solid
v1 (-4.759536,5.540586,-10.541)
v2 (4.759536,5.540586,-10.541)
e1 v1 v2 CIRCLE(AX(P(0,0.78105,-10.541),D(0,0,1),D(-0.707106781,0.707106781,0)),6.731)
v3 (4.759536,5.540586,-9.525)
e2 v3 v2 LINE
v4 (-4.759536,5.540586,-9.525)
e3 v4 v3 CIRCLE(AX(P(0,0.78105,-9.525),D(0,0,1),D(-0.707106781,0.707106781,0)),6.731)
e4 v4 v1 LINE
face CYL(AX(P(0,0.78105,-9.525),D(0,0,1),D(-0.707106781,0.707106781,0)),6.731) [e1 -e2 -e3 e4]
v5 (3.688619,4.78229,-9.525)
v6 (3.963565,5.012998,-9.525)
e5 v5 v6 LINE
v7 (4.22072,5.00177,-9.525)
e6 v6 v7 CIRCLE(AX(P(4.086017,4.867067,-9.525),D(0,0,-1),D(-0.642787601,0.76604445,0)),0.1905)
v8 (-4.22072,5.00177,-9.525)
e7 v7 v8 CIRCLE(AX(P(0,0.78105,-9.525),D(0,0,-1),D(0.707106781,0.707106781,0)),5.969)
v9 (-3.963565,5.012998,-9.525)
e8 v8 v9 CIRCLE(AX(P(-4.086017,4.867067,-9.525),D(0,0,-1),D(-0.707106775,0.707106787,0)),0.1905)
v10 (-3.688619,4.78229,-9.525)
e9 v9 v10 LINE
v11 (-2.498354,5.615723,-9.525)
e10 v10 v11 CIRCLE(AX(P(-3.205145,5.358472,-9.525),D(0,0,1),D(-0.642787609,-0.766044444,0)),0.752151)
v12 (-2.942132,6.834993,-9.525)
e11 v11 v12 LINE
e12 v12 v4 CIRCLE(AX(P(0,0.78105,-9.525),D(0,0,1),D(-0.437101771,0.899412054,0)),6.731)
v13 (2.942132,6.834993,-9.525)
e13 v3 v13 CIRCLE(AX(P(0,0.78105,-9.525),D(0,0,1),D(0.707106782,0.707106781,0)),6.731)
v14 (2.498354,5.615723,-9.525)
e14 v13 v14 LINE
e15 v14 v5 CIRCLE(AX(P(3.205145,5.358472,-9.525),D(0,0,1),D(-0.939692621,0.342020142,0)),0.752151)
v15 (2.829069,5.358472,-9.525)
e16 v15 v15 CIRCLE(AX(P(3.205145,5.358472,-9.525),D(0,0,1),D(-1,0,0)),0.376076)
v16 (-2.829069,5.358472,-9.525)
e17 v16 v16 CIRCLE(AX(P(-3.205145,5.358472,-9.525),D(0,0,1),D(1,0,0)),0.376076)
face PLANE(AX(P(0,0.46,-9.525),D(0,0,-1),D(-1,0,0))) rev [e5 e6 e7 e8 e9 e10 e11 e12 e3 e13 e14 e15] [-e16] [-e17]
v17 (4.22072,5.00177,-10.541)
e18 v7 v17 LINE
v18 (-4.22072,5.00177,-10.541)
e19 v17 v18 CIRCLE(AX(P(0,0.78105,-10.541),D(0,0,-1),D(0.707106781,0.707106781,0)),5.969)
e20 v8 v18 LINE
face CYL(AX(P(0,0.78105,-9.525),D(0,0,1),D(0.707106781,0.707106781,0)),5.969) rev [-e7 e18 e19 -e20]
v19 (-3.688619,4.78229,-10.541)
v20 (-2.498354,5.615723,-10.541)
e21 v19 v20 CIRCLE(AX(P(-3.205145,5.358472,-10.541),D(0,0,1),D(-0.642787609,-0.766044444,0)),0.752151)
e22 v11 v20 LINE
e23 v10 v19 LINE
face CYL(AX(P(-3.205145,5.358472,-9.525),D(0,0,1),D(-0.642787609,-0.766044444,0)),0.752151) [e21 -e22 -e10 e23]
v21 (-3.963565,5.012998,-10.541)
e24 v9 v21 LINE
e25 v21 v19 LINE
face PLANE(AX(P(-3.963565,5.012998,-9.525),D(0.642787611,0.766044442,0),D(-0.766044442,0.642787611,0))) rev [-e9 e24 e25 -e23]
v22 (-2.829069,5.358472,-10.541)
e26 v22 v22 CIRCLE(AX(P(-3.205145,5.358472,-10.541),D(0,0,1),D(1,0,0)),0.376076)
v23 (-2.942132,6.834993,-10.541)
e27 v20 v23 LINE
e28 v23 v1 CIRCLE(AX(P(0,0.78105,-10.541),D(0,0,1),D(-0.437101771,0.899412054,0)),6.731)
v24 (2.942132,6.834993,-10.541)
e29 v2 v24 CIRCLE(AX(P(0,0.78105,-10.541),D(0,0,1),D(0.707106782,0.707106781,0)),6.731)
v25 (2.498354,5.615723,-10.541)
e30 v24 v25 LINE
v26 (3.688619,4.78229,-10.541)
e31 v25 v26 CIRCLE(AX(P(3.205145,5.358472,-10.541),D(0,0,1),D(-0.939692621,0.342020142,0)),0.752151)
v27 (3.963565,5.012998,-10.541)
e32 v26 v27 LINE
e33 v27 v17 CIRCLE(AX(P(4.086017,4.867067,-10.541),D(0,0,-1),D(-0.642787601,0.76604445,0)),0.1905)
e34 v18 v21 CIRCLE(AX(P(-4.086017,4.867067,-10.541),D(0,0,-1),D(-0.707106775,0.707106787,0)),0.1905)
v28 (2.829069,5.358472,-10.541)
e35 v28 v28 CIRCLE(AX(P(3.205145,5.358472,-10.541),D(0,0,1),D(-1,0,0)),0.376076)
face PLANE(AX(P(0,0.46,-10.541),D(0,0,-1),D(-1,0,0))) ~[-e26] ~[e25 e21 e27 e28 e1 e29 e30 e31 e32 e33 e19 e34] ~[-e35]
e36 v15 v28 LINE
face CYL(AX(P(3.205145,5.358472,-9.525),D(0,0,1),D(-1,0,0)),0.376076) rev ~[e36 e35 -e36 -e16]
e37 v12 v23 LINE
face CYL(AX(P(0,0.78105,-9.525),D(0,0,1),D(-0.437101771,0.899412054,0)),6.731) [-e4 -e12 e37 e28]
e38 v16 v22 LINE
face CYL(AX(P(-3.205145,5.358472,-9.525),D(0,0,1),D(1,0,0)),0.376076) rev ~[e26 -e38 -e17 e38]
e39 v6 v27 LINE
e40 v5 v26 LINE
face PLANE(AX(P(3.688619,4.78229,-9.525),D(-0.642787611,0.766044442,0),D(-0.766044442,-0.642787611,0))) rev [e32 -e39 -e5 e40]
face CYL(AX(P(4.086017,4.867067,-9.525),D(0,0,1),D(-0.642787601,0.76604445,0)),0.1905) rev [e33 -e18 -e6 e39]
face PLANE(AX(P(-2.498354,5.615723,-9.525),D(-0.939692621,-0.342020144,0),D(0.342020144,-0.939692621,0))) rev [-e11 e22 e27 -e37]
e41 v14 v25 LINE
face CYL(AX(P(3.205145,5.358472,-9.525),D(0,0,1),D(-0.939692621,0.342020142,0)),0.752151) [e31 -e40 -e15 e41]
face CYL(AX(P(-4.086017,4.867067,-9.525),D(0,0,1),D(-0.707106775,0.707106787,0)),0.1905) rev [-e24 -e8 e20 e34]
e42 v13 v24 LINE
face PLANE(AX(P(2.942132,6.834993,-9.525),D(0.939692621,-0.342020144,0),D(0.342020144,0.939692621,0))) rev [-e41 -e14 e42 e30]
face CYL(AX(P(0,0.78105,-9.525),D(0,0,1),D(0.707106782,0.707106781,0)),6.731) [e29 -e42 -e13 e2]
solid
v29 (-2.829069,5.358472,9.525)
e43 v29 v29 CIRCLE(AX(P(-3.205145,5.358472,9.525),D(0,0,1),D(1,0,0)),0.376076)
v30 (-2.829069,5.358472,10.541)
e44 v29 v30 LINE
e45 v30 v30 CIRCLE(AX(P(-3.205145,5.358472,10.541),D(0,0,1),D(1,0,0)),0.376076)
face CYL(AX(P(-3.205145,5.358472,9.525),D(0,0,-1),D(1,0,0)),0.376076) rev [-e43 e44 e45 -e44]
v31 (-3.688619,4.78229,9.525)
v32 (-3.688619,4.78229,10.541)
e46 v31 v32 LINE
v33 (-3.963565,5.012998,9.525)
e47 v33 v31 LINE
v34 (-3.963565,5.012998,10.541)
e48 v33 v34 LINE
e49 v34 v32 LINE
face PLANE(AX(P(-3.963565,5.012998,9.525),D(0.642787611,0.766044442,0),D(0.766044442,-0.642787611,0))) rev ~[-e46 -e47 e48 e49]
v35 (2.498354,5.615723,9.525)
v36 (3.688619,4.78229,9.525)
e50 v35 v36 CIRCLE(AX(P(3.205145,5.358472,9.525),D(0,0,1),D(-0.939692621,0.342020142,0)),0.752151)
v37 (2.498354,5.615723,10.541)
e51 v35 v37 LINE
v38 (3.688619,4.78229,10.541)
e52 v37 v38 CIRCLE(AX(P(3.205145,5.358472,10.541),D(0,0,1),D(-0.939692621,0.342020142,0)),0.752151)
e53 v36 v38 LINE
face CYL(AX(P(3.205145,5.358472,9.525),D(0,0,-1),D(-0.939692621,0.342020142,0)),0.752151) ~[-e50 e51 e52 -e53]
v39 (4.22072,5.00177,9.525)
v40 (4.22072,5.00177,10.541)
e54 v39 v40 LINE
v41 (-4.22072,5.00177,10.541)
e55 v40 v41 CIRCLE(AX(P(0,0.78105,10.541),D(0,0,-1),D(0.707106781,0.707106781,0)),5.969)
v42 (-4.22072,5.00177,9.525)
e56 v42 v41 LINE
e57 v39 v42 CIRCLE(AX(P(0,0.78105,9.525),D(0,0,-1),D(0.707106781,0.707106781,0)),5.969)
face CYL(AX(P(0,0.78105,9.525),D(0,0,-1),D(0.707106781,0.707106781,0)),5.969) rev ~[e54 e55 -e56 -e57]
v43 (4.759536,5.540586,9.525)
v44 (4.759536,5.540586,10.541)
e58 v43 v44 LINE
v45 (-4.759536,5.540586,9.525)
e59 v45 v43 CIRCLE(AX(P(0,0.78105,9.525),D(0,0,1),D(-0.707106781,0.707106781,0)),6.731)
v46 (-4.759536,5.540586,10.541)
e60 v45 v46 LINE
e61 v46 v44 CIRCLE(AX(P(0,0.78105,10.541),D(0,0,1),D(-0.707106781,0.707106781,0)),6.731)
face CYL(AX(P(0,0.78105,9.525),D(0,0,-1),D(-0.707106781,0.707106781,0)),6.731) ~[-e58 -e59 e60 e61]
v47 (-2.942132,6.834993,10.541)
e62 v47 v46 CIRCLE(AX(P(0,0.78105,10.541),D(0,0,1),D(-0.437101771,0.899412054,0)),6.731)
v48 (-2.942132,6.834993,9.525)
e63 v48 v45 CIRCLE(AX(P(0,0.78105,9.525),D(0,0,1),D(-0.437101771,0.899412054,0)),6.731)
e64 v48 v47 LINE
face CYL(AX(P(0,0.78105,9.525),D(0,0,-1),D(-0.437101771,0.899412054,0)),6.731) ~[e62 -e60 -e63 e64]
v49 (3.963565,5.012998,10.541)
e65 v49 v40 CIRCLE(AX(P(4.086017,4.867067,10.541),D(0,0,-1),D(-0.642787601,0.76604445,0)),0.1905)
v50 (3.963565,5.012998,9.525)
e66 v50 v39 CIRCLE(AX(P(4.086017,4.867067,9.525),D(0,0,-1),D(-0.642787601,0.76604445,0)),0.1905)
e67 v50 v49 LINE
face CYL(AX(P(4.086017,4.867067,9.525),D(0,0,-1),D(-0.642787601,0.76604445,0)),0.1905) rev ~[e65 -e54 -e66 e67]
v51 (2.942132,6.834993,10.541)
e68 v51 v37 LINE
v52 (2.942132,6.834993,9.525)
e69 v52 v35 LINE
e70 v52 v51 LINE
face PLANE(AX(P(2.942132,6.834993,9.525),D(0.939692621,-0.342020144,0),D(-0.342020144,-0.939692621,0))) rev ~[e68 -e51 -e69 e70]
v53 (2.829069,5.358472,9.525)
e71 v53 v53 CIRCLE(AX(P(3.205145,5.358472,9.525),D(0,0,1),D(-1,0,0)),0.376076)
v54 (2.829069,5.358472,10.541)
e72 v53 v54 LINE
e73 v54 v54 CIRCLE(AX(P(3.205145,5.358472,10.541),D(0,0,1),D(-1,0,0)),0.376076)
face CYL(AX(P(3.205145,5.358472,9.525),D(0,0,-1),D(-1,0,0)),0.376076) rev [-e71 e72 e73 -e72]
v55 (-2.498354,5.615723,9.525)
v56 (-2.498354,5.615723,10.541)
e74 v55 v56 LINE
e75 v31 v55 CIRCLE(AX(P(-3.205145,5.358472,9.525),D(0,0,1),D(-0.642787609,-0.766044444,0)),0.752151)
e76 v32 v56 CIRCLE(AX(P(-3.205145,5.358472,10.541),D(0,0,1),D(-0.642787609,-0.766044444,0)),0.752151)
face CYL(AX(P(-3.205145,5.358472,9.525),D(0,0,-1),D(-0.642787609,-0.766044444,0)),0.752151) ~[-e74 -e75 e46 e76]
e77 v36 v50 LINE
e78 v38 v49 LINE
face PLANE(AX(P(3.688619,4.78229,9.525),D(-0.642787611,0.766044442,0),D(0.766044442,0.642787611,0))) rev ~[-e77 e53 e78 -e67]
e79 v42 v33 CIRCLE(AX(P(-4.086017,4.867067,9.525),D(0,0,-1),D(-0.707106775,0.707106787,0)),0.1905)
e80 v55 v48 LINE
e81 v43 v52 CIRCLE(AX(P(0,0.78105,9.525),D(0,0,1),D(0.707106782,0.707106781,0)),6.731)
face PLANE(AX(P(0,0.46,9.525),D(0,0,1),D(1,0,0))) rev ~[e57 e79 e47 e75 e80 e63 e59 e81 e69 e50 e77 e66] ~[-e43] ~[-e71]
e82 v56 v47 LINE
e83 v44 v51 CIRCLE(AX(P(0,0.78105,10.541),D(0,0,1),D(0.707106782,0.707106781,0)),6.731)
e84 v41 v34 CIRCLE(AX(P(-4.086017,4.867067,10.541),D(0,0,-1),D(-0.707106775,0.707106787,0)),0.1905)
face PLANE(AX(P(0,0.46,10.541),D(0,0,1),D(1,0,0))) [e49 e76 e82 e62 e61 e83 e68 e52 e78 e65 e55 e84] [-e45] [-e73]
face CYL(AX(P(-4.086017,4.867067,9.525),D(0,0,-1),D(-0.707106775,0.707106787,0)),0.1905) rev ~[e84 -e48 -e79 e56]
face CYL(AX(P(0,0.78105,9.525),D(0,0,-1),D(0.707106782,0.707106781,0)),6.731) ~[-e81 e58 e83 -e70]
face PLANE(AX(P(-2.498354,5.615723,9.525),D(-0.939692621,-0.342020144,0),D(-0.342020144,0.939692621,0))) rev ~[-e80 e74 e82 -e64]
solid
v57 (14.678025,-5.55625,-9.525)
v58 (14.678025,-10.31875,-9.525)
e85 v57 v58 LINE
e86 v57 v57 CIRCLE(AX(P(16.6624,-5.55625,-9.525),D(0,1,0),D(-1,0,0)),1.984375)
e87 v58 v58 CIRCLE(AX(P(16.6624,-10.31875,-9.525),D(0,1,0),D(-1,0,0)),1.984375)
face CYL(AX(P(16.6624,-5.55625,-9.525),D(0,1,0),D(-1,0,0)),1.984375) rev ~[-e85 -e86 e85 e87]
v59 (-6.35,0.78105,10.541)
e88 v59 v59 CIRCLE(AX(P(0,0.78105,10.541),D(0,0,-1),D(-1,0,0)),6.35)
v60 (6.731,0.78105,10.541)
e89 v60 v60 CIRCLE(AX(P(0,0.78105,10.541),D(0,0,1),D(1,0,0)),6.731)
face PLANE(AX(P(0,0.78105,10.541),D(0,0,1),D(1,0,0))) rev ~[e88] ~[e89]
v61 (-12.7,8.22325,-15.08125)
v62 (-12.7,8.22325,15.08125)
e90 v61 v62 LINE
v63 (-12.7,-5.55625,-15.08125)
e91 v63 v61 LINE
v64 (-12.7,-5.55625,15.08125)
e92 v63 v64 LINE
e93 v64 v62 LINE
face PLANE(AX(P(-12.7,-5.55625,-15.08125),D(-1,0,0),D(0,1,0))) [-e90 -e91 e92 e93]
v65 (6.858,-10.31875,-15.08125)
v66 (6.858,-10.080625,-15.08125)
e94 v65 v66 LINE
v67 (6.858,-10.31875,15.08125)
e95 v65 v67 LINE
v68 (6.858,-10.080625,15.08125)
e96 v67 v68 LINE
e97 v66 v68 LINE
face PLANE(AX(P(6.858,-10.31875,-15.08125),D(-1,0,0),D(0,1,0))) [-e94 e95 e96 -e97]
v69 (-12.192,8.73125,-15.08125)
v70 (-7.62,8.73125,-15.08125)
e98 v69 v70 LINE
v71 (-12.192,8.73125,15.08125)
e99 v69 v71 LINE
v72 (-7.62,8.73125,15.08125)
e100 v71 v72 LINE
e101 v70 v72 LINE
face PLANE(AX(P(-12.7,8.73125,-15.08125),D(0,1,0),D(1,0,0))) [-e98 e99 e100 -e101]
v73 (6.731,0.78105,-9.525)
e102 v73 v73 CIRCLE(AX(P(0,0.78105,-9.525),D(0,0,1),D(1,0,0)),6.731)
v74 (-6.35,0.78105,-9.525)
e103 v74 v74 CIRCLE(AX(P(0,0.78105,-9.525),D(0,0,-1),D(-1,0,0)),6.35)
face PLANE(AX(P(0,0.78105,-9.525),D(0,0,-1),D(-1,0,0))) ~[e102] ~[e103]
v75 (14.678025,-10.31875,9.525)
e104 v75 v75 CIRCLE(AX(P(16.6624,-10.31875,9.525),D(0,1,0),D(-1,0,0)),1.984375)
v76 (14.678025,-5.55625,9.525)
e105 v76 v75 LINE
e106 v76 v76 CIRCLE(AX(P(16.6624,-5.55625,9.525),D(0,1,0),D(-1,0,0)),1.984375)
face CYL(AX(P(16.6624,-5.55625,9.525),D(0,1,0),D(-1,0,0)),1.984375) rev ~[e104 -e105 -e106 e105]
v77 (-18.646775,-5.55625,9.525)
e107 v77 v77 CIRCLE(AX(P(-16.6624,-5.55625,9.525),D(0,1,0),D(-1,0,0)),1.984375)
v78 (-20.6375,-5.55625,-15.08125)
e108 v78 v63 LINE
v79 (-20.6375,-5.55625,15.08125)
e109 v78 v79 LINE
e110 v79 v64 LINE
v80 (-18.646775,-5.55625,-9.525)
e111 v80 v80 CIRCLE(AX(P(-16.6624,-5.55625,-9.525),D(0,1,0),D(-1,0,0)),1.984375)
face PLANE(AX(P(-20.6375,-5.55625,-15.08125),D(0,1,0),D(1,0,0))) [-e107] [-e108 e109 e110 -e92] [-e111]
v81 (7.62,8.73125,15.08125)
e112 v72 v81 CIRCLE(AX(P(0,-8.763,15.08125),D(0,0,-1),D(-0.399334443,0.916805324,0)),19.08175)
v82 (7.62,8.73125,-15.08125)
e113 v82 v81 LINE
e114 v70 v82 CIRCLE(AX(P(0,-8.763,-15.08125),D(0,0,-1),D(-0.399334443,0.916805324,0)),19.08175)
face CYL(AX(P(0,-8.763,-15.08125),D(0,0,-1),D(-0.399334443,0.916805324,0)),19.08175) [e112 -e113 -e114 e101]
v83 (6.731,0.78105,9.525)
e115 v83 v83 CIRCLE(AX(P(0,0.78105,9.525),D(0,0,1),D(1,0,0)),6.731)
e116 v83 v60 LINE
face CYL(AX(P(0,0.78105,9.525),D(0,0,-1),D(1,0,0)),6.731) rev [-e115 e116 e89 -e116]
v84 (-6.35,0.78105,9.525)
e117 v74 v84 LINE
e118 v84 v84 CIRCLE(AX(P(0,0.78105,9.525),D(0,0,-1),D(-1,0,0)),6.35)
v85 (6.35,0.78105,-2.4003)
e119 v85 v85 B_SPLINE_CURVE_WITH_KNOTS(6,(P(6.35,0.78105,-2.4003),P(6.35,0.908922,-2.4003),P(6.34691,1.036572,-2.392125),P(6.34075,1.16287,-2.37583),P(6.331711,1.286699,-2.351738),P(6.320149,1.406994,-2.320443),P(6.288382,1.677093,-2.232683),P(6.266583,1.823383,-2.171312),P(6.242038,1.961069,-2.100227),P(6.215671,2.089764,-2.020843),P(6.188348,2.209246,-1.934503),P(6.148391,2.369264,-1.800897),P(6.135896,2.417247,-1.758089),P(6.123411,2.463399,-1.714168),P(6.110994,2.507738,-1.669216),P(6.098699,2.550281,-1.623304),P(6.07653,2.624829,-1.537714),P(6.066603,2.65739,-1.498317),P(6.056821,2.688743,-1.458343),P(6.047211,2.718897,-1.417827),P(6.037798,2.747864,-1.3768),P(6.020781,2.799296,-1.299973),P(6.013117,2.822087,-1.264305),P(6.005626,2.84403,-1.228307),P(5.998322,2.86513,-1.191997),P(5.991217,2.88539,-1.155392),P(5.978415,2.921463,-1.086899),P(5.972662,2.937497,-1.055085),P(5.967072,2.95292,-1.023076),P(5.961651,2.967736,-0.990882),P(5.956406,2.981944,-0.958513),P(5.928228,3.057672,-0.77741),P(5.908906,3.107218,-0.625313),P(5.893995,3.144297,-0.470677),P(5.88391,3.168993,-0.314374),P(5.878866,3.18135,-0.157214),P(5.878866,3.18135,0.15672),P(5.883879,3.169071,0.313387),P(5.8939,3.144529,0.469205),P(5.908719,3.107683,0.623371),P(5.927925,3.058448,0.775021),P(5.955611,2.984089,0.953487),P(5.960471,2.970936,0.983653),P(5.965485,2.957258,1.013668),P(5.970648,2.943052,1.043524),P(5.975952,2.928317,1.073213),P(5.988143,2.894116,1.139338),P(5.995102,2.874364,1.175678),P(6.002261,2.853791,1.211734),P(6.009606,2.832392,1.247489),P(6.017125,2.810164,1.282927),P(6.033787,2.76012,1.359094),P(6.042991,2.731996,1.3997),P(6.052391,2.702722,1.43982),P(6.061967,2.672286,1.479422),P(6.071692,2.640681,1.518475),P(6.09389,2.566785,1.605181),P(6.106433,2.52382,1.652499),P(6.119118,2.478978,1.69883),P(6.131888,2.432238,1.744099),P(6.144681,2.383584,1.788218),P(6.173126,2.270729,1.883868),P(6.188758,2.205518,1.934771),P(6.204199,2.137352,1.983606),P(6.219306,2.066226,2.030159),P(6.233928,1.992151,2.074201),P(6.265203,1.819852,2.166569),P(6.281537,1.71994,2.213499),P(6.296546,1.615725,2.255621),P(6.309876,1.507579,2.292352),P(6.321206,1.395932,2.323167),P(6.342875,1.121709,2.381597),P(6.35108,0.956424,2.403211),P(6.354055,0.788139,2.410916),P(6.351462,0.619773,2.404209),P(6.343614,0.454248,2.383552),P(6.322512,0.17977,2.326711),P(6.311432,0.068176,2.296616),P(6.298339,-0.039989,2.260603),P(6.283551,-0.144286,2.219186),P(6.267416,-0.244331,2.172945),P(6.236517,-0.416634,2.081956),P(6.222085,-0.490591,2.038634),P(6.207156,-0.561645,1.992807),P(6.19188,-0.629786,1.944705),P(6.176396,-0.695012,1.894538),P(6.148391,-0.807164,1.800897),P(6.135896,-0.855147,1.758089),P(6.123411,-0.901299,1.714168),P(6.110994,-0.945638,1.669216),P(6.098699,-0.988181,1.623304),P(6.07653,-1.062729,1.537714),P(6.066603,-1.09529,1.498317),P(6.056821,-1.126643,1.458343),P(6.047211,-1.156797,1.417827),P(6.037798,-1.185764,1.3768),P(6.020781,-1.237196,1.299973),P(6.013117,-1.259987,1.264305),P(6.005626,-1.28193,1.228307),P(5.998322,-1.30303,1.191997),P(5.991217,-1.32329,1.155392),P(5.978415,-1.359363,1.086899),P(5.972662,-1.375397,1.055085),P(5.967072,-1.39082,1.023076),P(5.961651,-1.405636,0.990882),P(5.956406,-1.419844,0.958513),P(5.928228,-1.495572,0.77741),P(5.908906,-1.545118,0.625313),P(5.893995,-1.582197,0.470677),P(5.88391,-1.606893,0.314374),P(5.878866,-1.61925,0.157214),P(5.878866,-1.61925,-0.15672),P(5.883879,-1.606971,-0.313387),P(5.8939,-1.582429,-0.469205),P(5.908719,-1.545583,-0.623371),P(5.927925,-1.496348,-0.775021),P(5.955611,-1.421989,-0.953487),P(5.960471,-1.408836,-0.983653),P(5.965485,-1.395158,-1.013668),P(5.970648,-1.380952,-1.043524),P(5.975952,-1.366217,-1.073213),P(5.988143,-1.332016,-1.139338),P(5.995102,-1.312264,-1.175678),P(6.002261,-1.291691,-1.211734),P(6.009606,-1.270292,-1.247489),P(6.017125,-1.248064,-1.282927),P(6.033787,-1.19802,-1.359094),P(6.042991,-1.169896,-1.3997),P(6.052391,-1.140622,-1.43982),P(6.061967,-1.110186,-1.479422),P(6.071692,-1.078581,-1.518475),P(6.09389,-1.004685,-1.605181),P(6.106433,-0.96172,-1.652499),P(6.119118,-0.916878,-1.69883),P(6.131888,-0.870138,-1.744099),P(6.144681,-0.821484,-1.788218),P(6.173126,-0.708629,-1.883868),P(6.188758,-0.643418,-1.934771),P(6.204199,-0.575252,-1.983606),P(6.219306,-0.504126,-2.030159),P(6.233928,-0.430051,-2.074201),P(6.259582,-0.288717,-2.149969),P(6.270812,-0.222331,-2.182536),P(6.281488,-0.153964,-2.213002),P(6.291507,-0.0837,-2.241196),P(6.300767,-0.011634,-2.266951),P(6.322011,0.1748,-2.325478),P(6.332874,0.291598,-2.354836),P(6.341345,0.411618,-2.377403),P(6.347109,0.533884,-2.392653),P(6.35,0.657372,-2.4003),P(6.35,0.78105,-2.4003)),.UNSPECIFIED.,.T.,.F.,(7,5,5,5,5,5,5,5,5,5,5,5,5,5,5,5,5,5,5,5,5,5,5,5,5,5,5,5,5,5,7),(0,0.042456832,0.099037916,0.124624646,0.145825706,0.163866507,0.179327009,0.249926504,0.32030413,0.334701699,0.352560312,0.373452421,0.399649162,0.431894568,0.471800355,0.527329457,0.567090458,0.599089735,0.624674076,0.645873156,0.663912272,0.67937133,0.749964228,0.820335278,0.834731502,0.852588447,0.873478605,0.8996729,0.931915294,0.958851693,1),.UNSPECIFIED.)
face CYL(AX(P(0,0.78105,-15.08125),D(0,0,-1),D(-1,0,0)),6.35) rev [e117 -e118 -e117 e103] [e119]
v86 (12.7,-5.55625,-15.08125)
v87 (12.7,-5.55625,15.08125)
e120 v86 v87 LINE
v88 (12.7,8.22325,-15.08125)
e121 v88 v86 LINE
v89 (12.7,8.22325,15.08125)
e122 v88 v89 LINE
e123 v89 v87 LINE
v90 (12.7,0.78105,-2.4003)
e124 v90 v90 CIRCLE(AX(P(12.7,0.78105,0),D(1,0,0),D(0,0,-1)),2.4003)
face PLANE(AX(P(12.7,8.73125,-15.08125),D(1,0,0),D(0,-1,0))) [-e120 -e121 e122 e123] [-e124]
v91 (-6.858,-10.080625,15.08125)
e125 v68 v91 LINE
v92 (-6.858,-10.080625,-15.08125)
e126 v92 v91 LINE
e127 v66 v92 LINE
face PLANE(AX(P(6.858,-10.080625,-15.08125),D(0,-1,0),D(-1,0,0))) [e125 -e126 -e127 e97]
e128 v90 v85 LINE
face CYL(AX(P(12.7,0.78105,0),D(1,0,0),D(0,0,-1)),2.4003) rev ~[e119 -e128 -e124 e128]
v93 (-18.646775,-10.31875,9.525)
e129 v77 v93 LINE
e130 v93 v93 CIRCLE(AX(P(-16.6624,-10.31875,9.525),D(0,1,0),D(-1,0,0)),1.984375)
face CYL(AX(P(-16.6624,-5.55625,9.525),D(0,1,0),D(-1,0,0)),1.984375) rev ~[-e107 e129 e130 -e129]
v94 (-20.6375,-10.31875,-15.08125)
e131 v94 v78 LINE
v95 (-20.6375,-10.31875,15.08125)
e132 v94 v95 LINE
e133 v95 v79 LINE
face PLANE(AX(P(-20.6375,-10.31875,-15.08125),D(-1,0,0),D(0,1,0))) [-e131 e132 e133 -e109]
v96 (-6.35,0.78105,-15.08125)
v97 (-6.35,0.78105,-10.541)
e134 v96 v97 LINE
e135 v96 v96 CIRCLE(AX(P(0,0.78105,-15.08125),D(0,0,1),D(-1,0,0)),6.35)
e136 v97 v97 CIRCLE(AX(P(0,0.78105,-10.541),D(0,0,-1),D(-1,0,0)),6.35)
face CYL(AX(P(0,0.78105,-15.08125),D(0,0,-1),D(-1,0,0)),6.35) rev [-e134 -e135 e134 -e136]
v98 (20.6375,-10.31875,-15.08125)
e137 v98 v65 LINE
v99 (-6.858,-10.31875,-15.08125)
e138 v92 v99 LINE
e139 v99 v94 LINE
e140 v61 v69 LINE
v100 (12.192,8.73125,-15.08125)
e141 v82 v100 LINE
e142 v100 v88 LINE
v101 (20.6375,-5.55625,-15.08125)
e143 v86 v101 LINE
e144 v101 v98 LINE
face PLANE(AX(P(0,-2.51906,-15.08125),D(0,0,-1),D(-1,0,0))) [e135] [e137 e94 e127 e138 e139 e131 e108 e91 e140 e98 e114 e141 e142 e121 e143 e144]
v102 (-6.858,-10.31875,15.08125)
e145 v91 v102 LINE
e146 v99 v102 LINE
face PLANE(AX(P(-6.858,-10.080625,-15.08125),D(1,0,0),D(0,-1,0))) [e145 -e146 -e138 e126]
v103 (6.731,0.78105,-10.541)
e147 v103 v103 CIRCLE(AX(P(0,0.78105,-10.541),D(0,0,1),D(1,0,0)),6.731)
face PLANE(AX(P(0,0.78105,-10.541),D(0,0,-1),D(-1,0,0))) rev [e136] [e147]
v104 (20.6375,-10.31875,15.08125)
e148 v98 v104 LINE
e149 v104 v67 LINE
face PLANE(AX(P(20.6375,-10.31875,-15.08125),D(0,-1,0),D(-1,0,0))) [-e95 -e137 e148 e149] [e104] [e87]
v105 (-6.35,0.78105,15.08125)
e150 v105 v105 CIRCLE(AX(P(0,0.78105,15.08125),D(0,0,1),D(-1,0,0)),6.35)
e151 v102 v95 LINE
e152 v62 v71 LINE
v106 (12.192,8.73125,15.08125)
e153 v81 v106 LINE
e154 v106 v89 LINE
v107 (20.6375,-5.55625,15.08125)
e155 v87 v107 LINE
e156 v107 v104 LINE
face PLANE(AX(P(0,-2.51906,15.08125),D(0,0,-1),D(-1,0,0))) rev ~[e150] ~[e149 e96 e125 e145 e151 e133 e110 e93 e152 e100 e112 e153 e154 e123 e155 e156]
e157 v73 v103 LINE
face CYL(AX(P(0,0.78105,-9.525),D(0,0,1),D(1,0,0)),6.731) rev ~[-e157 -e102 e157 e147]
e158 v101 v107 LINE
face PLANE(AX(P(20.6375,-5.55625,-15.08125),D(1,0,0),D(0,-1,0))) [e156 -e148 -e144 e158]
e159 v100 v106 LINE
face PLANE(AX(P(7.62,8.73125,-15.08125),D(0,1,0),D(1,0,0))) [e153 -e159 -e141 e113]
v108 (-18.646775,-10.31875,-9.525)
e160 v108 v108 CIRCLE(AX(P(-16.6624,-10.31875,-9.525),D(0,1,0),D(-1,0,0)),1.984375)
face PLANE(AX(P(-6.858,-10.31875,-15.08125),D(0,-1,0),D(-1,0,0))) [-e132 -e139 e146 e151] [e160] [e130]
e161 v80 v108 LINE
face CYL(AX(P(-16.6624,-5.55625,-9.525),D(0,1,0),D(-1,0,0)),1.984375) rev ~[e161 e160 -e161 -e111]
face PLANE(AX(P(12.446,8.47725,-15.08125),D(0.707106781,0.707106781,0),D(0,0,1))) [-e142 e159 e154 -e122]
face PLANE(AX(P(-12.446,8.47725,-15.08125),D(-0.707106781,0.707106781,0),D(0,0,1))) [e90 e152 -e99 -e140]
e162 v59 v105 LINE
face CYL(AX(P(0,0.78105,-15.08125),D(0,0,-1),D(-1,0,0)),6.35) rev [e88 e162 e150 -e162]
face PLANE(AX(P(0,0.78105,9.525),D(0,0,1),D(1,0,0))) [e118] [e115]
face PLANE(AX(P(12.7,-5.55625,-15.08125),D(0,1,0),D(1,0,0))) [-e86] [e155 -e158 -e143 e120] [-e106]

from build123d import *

# Parameters (mm, degrees)
BOSS_EXTRUDE1_START     = -15.08125
SKETCH4_R               = 6.35
BOSS_EXTRUDE1_DEPTH     = 30.1625
SKETCH5_R               = 1.984375
CUT_EXTRUDE1_DEPTH      = 31.089302631
CHAMFER1_SIZE           = 0.508
SKETCH6_R               = 6.731
CUT_EXTRUDE2_DEPTH      = 1.016
CUT_EXTRUDE3_REACH      = 40.017
CUT_EXTRUDE3_END_RADIUS = 6.35
SKETCH7_R               = 2.4003
SKETCH8_R               = 0.376075682
BOSS_EXTRUDE2_DEPTH     = 1.016


with BuildPart() as part:
    # Sketch4 → Boss-Extrude1 (new body)
    with BuildSketch(Plane.XY.offset(BOSS_EXTRUDE1_START)):
        with BuildLine():
            Line((-20.6375, -5.55625), (-12.7, -5.55625))
            Line((-12.7, -5.55625), (-12.7, 8.73125))
            Line((-12.7, 8.73125), (-7.62, 8.73125))
            ThreePointArc((-7.62, 8.73125), (0, 10.31875), (7.62, 8.73125))
            Line((7.62, 8.73125), (12.7, 8.73125))
            Line((12.7, 8.73125), (12.7, -5.55625))
            Line((12.7, -5.55625), (20.6375, -5.55625))
            Line((20.6375, -5.55625), (20.6375, -10.31875))
            Line((20.6375, -10.31875), (6.858, -10.31875))
            Line((6.858, -10.31875), (6.858, -10.080625))
            Line((6.858, -10.080625), (-6.858, -10.080625))
            Line((-6.858, -10.080625), (-6.858, -10.31875))
            Line((-6.858, -10.31875), (-20.6375, -10.31875))
            Line((-20.6375, -10.31875), (-20.6375, -5.55625))
        make_face()
        with Locations(Location((0, 0.78105, 0), (0, 0, 180))):
            Circle(SKETCH4_R, mode=Mode.SUBTRACT)
    extrude(amount=BOSS_EXTRUDE1_DEPTH)

    # Sketch5 → Cut-Extrude1 (cut, through all)
    with BuildSketch(Plane(origin=(0, -5.55625, 0), x_dir=(1, 0, 0), z_dir=(0, 1, 0))):
        with Locations(Location((-16.6624, 9.525, 0), (0, 0, 180))):
            Circle(SKETCH5_R)
        with Locations(Location((16.6624, 9.525, 0), (0, 0, 180))):
            Circle(SKETCH5_R)
        with Locations(Location((16.6624, -9.525, 0), (0, 0, 180))):
            Circle(SKETCH5_R)
        with Locations(Location((-16.6624, -9.525, 0), (0, 0, 180))):
            Circle(SKETCH5_R)
    extrude(amount=-CUT_EXTRUDE1_DEPTH, mode=Mode.SUBTRACT)

    # Chamfer1
    chamfer1_edges = [part.edges().sort_by_distance(p)[0] for p in [
        (-12.7, 8.73125, 0),
        (12.7, 8.73125, 0),
    ]]
    chamfer(chamfer1_edges, length=CHAMFER1_SIZE)

    # Sketch6 → Cut-Extrude2 (cut)
    with BuildSketch(Plane.XY.offset(9.525)):
        with Locations((0, 0.78105)):
            Circle(SKETCH6_R)
    cut_extrude2 = extrude(amount=CUT_EXTRUDE2_DEPTH, mode=Mode.SUBTRACT)

    # Mirror1: Cut-Extrude2 across plane
    add(cut_extrude2.mirror(Plane.XY), mode=Mode.SUBTRACT)

    # Cut-Extrude3: up to this cylinder (the profile starts outside it)
    cut_extrude3_end = Plane(origin=(0, 0.78105, 0), z_dir=(0, 0, -1)) * Cylinder(CUT_EXTRUDE3_END_RADIUS, 93.734, mode=Mode.PRIVATE)
    # Sketch7 → Cut-Extrude3 (cut, up to the surface)
    with BuildSketch(Plane(origin=(12.7, 0, 0), x_dir=(0, 0, -1), z_dir=(1, 0, 0)), mode=Mode.PRIVATE) as cut_extrude3_sk1:
        with Locations((0, 0.78105)):
            Circle(SKETCH7_R)
    cut_extrude3_tool1 = extrude(cut_extrude3_sk1.sketch, amount=-CUT_EXTRUDE3_REACH, mode=Mode.PRIVATE) - cut_extrude3_end
    add(cut_extrude3_tool1.solids().sort_by_distance((12.7, 0.78105, 0))[0], mode=Mode.SUBTRACT)


with BuildPart() as body_2:
    # Sketch8 → Boss-Extrude2 (new body)
    with BuildSketch(Plane.XY.offset(9.525)):
        with BuildLine():
            Line((-2.498354039, 5.615722541), (-2.942132023, 6.83499253))
            ThreePointArc((-2.942132023, 6.83499253), (-3.904842357, 6.263619395), (-4.759535744, 5.540585744))
            ThreePointArc((-4.759535744, 5.540585744), (0, -5.94995), (4.759535744, 5.540585744))
            ThreePointArc((4.759535744, 5.540585744), (3.904842357, 6.263619395), (2.942132023, 6.83499253))
            Line((2.942132023, 6.83499253), (2.498354039, 5.615722541))
            ThreePointArc((2.498354039, 5.615722541), (2.773728827, 4.742345296), (3.688618704, 4.78229025))
            Line((3.688618704, 4.78229025), (3.963565495, 5.012998002))
            ThreePointArc((3.963565495, 5.012998002), (4.094326028, 5.057385221), (4.220720377, 5.001770377))
            ThreePointArc((4.220720377, 5.001770377), (0, -5.18795), (-4.220720377, 5.001770377))
            ThreePointArc((-4.220720377, 5.001770377), (-4.094326028, 5.057385221), (-3.963565495, 5.012998002))
            Line((-3.963565495, 5.012998002), (-3.688618704, 4.78229025))
            ThreePointArc((-3.688618704, 4.78229025), (-2.773728827, 4.742345296), (-2.498354039, 5.615722541))
        make_face()
        with Locations((-3.205145126, 5.358471623)):
            Circle(SKETCH8_R, mode=Mode.SUBTRACT)
        with Locations(Location((3.205145126, 5.358471623, 0), (0, 0, 180))):
            Circle(SKETCH8_R, mode=Mode.SUBTRACT)
    extrude(amount=BOSS_EXTRUDE2_DEPTH)


with BuildPart() as body_3:
    # Mirror2: mirrored copy
    add(body_2.part.mirror(Plane.XY))


solid = Compound([part.part, body_2.part, body_3.part])
